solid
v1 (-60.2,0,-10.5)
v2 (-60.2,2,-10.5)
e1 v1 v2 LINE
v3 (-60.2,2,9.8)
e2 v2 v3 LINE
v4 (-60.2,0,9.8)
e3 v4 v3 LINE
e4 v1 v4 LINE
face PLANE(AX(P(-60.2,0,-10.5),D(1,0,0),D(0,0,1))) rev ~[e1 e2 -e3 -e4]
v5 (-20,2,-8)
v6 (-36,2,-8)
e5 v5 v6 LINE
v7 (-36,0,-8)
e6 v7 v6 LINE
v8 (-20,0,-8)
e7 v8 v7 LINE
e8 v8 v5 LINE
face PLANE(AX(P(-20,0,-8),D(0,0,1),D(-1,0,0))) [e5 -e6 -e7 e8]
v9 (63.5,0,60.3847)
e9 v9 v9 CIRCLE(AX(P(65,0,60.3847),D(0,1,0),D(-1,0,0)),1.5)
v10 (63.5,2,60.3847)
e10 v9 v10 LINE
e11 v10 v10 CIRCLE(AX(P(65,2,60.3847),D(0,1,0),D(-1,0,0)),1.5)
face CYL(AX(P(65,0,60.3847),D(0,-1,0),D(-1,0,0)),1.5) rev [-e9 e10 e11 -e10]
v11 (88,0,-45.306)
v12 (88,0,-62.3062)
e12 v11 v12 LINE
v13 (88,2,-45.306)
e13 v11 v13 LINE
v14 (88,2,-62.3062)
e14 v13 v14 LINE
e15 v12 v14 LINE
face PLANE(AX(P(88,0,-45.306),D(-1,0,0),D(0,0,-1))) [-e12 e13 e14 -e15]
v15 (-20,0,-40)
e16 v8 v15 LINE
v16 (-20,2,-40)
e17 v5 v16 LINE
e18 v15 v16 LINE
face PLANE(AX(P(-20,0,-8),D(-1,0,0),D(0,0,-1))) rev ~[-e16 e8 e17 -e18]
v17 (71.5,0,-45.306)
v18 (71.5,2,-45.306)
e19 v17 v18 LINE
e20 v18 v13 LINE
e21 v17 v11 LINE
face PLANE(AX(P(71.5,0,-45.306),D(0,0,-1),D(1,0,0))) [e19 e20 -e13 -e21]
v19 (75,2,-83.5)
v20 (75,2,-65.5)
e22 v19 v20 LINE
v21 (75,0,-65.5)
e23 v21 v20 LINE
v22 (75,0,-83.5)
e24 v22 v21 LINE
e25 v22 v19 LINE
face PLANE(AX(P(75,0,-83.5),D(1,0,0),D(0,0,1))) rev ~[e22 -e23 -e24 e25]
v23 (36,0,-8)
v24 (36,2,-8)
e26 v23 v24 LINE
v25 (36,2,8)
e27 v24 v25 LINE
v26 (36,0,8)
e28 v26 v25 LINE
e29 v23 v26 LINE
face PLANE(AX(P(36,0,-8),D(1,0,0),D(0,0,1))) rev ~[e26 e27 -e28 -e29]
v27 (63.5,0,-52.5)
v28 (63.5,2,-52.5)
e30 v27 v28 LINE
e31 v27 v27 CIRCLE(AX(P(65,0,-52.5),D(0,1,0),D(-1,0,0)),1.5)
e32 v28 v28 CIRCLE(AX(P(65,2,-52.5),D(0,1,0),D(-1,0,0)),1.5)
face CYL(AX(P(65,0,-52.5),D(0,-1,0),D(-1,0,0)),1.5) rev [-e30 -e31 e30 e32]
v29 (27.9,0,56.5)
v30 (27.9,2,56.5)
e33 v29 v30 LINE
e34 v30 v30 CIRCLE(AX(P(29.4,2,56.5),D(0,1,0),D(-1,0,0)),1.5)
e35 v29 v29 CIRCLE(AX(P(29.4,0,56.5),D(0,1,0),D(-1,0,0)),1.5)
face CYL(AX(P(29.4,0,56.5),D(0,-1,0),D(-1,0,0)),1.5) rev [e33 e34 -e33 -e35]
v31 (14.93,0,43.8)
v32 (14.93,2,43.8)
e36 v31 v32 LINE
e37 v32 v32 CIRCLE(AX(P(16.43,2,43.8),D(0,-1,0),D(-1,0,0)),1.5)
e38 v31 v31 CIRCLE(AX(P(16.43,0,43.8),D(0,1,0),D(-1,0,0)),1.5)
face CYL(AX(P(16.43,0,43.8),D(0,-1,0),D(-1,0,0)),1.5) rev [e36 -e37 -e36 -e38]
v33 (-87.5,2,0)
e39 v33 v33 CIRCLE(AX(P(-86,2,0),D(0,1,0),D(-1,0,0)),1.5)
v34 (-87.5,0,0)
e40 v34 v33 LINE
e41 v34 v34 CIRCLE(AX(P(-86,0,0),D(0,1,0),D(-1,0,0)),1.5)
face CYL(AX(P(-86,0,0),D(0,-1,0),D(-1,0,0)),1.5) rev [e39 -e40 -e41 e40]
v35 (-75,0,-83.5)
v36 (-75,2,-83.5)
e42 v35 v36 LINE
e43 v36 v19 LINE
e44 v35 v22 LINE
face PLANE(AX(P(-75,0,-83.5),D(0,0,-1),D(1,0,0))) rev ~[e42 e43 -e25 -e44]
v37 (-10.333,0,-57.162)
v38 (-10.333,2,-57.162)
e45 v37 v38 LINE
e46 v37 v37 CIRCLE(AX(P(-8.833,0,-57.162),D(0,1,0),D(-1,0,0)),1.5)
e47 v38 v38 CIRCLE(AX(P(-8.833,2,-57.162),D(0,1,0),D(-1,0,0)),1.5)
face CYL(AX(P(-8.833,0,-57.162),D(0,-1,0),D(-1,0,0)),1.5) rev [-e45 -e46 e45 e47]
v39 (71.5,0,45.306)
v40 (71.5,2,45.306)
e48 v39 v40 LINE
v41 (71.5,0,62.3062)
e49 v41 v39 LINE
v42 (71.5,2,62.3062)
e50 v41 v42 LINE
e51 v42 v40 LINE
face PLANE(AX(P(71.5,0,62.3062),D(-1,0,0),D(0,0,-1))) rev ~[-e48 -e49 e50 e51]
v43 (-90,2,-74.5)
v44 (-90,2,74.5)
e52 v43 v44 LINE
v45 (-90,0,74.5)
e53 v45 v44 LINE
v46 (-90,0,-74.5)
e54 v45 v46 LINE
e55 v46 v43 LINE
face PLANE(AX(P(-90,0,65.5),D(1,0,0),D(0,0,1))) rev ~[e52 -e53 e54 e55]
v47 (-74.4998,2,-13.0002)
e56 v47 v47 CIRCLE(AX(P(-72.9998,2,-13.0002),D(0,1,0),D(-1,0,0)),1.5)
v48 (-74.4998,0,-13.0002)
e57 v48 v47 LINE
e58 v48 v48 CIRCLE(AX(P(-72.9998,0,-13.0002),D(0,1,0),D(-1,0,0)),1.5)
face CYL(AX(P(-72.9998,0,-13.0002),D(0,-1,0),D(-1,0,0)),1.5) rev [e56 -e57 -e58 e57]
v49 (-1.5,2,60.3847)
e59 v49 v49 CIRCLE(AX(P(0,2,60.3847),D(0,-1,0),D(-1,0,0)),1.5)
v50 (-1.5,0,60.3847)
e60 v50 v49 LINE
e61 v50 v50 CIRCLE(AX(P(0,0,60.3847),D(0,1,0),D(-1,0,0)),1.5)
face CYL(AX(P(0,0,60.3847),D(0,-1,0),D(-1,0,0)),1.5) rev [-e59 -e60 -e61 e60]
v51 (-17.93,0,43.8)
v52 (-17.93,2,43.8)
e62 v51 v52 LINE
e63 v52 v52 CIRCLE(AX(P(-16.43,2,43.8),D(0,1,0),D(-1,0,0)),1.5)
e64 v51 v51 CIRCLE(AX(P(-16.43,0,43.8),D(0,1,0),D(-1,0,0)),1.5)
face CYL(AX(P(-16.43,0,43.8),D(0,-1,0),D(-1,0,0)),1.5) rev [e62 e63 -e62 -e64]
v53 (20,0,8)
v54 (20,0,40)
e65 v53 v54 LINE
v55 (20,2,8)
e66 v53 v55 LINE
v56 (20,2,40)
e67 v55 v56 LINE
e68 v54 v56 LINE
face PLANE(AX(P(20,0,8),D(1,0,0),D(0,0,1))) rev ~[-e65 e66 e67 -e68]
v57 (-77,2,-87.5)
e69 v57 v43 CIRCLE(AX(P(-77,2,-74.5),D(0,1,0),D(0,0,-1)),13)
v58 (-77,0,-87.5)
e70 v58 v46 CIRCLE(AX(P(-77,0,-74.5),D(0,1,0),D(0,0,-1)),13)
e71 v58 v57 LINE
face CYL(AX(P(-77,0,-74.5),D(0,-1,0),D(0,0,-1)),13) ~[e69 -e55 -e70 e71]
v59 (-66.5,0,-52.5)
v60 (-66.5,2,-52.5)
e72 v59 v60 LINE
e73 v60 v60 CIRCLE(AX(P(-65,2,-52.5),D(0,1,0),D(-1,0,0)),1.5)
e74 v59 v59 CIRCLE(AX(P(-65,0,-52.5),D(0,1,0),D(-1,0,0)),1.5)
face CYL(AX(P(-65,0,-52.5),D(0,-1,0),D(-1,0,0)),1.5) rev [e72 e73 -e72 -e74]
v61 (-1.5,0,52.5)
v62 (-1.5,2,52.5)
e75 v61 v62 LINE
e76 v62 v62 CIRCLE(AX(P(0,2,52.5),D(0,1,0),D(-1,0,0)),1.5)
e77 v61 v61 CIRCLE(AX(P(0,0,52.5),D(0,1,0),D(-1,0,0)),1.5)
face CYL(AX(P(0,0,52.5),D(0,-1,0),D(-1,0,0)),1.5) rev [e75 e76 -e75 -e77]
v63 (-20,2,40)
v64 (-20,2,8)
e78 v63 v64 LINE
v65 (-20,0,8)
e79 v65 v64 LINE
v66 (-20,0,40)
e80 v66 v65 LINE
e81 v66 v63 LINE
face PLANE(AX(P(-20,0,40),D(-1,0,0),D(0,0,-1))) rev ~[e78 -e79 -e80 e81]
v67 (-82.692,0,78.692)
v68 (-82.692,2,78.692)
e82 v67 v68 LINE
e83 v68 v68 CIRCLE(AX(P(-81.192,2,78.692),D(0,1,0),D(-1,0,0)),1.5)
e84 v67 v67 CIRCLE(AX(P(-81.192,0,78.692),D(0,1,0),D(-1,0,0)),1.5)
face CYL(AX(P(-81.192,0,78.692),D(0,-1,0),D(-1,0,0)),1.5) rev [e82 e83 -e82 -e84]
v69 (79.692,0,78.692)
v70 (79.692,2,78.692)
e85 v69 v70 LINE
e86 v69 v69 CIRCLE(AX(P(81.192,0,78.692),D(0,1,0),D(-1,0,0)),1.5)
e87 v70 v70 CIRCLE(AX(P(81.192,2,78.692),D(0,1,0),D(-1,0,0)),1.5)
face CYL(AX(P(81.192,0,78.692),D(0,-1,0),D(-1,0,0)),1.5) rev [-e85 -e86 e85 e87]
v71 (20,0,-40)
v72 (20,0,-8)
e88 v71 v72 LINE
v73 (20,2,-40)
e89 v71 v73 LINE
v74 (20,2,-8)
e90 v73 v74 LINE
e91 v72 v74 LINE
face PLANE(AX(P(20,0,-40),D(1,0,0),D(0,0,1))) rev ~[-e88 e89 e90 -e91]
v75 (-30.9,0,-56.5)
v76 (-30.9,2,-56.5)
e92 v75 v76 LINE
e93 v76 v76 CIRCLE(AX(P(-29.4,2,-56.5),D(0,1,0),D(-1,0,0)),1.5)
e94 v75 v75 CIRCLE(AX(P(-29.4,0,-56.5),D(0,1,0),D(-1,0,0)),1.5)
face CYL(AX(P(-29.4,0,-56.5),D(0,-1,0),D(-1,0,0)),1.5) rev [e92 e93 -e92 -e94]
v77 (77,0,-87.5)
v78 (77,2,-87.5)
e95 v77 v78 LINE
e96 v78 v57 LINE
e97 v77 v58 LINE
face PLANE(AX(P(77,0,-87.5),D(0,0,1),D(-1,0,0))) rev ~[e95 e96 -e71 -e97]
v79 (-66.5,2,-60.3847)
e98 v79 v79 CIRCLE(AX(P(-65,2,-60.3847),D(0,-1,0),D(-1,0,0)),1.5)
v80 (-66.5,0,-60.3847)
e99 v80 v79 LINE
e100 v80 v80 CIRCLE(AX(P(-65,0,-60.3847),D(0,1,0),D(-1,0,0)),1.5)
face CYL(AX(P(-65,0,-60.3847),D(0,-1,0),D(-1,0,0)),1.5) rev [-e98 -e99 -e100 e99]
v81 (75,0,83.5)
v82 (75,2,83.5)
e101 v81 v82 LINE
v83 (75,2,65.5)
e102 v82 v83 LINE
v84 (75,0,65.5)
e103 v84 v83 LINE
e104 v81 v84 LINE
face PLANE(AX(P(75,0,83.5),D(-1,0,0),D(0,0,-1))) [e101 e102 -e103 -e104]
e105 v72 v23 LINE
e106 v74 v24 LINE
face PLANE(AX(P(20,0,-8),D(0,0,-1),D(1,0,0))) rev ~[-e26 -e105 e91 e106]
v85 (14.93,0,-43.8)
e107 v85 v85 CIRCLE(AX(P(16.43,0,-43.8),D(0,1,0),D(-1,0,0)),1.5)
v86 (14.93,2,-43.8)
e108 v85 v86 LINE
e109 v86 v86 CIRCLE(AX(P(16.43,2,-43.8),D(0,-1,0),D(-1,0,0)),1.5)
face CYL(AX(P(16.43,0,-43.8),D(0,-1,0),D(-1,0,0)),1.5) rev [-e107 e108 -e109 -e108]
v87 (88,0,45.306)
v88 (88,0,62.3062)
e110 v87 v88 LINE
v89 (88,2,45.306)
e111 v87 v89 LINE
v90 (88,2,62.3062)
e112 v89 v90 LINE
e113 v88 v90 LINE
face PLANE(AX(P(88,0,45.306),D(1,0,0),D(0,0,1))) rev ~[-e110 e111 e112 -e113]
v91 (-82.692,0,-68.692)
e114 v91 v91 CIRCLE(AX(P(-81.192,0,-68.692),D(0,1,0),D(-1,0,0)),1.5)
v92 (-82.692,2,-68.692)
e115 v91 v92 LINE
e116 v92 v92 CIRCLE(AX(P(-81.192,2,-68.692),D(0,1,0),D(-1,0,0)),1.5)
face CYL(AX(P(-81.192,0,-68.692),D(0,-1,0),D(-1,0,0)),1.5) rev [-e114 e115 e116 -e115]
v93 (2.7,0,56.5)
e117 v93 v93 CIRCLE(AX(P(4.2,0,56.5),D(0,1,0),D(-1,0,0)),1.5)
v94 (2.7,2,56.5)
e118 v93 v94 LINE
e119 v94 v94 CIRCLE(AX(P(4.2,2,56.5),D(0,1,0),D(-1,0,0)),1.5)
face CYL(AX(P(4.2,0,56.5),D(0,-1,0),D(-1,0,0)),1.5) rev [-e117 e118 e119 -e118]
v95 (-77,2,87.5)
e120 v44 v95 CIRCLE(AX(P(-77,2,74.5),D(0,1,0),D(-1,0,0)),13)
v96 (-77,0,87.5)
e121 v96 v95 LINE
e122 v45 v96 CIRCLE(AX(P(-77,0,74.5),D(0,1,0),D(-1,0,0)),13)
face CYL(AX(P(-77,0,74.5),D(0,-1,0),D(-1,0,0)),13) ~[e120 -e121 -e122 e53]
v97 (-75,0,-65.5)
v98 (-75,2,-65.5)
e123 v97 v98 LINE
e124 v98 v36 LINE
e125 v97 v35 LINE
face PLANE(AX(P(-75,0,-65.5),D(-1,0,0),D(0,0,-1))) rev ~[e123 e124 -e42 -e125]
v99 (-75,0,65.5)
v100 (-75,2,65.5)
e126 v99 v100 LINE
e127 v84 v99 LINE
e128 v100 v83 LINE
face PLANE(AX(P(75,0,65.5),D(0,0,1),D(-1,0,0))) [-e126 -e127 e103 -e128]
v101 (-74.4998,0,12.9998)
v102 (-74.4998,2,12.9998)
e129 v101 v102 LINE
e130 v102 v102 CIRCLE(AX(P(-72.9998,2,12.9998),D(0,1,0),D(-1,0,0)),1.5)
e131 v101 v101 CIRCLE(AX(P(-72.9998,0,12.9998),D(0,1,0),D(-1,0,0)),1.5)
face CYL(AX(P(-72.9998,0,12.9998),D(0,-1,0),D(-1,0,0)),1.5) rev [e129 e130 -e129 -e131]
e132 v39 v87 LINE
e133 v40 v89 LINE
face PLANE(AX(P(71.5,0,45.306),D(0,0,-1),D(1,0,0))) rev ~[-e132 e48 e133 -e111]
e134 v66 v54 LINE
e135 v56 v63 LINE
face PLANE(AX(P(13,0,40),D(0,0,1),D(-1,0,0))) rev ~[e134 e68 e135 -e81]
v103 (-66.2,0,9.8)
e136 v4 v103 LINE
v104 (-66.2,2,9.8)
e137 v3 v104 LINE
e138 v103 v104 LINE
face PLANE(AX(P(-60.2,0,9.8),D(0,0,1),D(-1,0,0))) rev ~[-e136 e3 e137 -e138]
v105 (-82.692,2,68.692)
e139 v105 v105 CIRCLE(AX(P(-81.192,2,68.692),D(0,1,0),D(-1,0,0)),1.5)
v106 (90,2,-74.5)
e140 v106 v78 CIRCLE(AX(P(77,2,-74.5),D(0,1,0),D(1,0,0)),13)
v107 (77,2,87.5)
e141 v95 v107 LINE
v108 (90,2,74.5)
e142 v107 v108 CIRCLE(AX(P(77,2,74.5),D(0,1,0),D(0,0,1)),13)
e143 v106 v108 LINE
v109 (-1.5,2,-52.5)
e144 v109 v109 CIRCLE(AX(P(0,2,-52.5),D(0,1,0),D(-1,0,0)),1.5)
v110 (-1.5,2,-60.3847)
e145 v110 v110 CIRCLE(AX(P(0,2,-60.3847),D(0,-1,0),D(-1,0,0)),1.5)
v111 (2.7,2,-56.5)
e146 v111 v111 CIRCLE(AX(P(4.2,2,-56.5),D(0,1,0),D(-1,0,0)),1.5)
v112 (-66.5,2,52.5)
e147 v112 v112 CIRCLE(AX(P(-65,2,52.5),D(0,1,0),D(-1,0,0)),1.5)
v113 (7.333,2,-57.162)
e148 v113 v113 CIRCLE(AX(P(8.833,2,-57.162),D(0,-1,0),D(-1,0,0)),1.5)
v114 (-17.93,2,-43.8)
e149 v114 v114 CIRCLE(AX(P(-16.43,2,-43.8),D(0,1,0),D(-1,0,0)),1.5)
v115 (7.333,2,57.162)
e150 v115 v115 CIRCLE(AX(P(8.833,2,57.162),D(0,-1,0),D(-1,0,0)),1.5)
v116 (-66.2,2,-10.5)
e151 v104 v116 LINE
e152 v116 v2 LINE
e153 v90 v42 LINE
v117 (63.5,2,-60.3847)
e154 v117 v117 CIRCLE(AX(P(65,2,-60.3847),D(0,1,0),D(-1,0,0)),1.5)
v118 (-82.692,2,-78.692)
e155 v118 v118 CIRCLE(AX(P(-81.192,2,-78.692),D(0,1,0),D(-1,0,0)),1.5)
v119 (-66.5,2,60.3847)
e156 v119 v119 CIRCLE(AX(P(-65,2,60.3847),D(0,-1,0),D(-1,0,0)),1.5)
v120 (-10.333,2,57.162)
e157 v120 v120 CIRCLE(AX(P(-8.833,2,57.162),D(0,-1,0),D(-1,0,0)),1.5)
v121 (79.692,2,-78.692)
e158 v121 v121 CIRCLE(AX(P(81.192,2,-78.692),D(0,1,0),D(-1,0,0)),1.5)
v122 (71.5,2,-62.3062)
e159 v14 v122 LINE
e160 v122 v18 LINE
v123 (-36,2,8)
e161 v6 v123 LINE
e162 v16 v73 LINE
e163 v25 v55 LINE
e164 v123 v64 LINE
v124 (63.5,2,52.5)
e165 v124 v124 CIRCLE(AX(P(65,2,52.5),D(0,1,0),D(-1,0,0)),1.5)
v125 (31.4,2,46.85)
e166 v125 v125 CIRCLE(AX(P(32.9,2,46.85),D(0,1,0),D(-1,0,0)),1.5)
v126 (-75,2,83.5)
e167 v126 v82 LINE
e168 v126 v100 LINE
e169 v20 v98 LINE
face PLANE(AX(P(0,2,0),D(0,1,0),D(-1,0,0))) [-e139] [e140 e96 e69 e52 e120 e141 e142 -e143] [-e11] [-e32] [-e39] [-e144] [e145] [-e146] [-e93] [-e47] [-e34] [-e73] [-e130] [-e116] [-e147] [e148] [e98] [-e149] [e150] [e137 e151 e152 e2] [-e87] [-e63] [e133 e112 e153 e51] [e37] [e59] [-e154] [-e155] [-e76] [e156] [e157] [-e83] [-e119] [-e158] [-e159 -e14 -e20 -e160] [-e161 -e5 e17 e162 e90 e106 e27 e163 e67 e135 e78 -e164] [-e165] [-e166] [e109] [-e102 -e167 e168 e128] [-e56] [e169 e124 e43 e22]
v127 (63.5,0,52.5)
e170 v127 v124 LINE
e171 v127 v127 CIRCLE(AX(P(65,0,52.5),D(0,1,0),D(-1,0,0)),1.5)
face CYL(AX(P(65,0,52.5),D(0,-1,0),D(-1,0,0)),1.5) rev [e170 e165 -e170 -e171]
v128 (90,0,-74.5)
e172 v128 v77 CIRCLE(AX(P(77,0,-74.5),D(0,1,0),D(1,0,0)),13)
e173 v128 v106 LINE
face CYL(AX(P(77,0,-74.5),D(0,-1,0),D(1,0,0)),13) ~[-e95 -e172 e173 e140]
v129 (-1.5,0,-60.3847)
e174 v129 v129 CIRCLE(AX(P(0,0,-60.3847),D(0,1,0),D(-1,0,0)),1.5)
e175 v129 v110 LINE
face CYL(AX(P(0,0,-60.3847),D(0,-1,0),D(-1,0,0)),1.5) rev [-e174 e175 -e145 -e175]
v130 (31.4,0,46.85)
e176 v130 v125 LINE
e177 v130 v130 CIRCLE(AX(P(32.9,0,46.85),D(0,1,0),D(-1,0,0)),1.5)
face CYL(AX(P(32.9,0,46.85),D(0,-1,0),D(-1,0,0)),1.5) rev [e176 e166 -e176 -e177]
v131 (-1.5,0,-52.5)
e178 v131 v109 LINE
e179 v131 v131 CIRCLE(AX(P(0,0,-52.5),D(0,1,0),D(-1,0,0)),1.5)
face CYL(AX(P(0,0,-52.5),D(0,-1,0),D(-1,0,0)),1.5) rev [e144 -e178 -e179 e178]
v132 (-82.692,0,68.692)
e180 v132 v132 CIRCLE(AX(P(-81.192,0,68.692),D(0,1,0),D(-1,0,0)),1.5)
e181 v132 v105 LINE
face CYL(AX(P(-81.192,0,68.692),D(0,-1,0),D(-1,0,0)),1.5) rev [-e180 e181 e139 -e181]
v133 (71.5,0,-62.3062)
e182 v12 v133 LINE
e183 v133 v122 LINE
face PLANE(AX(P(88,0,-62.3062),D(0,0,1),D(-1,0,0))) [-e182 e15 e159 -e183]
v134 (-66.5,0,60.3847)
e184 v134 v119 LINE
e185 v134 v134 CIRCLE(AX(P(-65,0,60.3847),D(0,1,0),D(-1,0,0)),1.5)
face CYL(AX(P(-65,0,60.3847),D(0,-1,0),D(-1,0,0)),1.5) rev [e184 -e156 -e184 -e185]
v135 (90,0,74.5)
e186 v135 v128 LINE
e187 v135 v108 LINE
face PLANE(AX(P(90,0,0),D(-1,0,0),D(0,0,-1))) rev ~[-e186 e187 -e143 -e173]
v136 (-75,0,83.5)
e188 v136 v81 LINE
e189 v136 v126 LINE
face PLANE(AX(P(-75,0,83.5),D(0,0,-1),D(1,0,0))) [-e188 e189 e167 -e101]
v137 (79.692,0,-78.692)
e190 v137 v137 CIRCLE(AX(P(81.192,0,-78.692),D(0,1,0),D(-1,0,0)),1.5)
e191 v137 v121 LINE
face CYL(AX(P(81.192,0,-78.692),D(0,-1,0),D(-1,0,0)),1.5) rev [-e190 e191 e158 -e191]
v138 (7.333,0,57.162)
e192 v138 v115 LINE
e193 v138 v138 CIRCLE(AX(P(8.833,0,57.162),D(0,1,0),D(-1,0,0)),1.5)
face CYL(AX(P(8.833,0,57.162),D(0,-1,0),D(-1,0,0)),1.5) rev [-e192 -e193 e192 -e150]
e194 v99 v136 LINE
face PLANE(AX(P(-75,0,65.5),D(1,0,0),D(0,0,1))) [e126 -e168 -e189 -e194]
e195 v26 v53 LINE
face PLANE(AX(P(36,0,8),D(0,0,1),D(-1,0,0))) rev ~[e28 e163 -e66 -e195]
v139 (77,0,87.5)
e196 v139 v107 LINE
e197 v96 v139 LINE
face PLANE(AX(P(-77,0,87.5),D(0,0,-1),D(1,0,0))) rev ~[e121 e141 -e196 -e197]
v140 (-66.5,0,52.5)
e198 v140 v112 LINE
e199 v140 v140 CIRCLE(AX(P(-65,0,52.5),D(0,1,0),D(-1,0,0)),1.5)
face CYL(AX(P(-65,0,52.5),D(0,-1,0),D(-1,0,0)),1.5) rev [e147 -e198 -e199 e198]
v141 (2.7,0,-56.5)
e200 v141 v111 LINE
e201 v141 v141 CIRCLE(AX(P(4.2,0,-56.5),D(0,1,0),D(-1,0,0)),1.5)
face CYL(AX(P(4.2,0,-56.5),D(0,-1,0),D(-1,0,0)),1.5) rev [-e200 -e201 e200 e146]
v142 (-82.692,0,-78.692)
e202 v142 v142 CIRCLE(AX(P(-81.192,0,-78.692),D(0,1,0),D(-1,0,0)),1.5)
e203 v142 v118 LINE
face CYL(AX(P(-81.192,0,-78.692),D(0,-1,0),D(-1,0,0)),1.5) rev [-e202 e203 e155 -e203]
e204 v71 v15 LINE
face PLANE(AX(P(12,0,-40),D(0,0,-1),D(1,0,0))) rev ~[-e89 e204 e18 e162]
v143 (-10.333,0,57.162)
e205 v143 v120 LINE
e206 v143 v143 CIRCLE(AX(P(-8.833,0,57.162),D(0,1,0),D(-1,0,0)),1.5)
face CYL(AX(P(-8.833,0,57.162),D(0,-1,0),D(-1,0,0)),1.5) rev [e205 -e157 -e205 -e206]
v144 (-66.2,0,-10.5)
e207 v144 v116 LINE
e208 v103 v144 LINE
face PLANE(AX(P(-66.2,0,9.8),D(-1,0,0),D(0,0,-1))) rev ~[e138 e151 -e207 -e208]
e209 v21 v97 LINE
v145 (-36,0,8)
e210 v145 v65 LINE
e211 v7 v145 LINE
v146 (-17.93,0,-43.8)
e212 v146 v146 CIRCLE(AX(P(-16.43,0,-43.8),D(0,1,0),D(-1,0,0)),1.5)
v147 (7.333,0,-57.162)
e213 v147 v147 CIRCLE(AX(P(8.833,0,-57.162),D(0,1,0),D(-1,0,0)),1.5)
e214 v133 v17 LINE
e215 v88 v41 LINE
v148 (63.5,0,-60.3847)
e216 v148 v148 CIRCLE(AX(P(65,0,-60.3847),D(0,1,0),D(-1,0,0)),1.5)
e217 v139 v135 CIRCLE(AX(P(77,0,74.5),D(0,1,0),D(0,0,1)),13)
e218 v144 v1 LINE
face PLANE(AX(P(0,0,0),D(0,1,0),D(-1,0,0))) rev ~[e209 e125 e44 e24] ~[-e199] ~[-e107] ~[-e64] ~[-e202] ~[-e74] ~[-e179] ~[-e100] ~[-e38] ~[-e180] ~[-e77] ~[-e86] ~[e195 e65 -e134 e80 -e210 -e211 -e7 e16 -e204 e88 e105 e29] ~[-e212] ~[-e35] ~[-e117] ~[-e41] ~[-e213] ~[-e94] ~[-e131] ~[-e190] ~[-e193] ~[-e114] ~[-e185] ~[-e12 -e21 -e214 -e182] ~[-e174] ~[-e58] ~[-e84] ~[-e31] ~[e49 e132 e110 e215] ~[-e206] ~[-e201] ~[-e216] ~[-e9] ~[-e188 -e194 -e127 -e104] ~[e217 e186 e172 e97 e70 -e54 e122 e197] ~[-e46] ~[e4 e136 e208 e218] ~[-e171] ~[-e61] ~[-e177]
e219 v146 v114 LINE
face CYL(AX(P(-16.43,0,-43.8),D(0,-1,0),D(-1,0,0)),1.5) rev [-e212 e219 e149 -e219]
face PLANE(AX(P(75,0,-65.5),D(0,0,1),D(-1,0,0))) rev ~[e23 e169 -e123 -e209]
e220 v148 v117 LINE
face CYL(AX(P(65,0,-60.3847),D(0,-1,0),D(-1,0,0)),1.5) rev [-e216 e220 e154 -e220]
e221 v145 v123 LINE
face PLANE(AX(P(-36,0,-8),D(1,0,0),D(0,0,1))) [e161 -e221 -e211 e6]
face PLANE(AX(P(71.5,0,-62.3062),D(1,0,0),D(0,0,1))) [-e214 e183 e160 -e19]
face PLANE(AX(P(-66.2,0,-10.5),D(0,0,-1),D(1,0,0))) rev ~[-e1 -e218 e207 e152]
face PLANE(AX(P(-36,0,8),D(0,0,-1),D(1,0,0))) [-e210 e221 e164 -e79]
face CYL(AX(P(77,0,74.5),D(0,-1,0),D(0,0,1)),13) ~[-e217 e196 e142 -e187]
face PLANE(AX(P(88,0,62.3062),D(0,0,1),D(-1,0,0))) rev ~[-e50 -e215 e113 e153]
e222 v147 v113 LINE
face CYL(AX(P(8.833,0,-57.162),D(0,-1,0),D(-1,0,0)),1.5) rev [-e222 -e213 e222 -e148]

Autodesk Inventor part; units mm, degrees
ref_plane "YZ Plane" through (0, 0, 0) normal (1, 0, 0) x (0, 1, 0)
ref_plane "XZ Plane" through (0, 0, 0) normal (0, 1, 0) x (-1, 0, 0)
ref_plane "XY Plane" through (0, 0, 0) normal (0, 0, 1) x (1, 0, 0)
sketch "Эскиз1" plane through (0, 0, 0) normal (0, 1, 0) x (-1, 0, 0)
  line L0 (-77, -87.5) -> (77, -87.5)
  line L1 (90, -74.5) -> (90, 74.5)
  line L2 (77, 87.5) -> (-77, 87.5)
  line L3 (-90, 74.5) -> (-90, -74.5)
  line L4 (90, 0) -> (-90, 0) construction
  line L5 (0, -87.5) -> (0, 87.5) construction
  arc A0 (90, 74.5) -> (77, 87.5) centre (77, 74.5) ccw
  arc A1 (77, -87.5) -> (90, -74.5) centre (77, -74.5) ccw
  arc A2 (-90, -74.5) -> (-77, -87.5) centre (-77, -74.5) ccw
  arc A3 (-77, 87.5) -> (-90, 74.5) centre (-77, 74.5) ccw
  line L6 (75, 83.5) -> (-75, 83.5)
  line L7 (-75, 83.5) -> (-75, 65.5)
  line L8 (-75, 65.5) -> (75, 65.5)
  line L9 (75, 65.5) -> (75, 83.5)
  line L10 (0, 87.5) -> (0, -87.5) construction
  line L11 (75, -83.5) -> (-75, -83.5)
  line L12 (-75, -83.5) -> (-75, -65.5)
  line L13 (-75, -65.5) -> (75, -65.5)
  line L14 (75, -65.5) -> (75, -83.5)
  line L15 (90, 49.8397) -> (90, 20.3597)
  line L16 (0, 65.5) -> (42, 65.5)
  line L17 (90, -32.9125) -> (90, 38.6688)
  line L18 (68, 60) -> (-12, 60)
  line L19 (-12, 60) -> (-12, -60)
  line L20 (-12, -60) -> (68, -60)
  line L21 (68, -60) -> (68, 60)
  line L22 (60, 60) -> (57.2, 60)
  line L23 (60, 57.2) -> (60, 60)
  circle A4 centre (65.2, 57.2) radius 1.5
  line L24 (20, 60) -> (20, -60) construction
  circle A5 centre (65.2, -57.2) radius 1.5
  circle A6 centre (-9.2, 57.2) radius 1.5
  circle A7 centre (-9.2, -57.2) radius 1.5
  line L25 (-20, 0) -> (-25, 0) construction
  line L26 (-25, 0) -> (-81, 0) construction
  line L27 (-13, 42.5) -> (-69, 42.5)
  line L28 (-69, 42.5) -> (-69, -42.5)
  line L29 (-69, -42.5) -> (-13, -42.5)
  line L30 (-13, -42.5) -> (-13, 42.5)
  line L31 (-25, 42.5) -> (-28.7, 42.5)
  line L32 (-25, 38.8) -> (-25, 42.5)
  circle A8 centre (-16.7, 38.8) radius 1.5
  line L33 (-53, 42.5) -> (-53, -42.5) construction
  line L34 (-25, 0) -> (-81, 0) construction
  line L35 (-16.7, 38.8) -> (-16.7, -19.2) construction
  circle A9 centre (-16.7, -19.2) radius 1.5
  circle A10 centre (-65.3, 38.8) radius 1.5
  circle A11 centre (-65.3, -19.2) radius 1.5
  line L36 (90, 60.5) -> (90, 65.5)
  circle A12 centre (65, 60.3847) radius 1.5
  circle A13 centre (65, 52.5) radius 1.5
  line L37 (32.5, 60.3847) -> (32.5, -60) construction
  circle A14 centre (0, 60.3847) radius 1.5
  circle A15 centre (0, 52.5) radius 1.5
  circle A16 centre (-65, 60.3847) radius 1.5
  circle A17 centre (-65, 52.5) radius 1.5
  circle A18 centre (65, -60.3847) radius 1.5
  circle A19 centre (65, -52.5) radius 1.5
  circle A20 centre (0, -60.3847) radius 1.5
  circle A21 centre (0, -52.5) radius 1.5
  circle A22 centre (-65, -60.3847) radius 1.5
  circle A23 centre (-65, -52.5) radius 1.5
  circle A24 centre (86, 0) radius 1.5
  line L38 (86, 0) -> (104.385, 0) construction
  circle A25 centre (72.9998, -13.0002) radius 1.5
  circle A26 centre (72.9998, 12.9998) radius 1.5
  line L39 (90, -19.2) -> (75, -19.2)
  line L40 (75, -19.2) -> (75, 22.1472)
  line L41 (75, 22.1472) -> (90, 22.1472)
  line L42 (90, 22.1472) -> (90, -19.2)
  line L43 (-90, 8.1057) -> (-90, 0)
  line L44 (0, 0) -> (-12, 0)
  line L45 (-12, 5.1924) -> (-12, 5.1924)
  line L46 (75, 78.692) -> (75, 65.5)
  circle A27 centre (81.192, 78.692) radius 1.5
  circle A28 centre (81.192, -78.692) radius 1.5
  circle A29 centre (81.192, 68.692) radius 1.5
  circle A30 centre (81.192, -68.692) radius 1.5
  line L47 (66.2, 9.8) -> (66.2, -10.5)
  line L48 (66.2, -10.5) -> (60.2, -10.5)
  line L49 (60.2, -10.5) -> (60.2, 9.8)
  line L50 (60.2, 9.8) -> (66.2, 9.8)
  circle A31 centre (-81.192, -78.692) radius 1.5
  circle A32 centre (-81.192, 78.692) radius 1.5
  line L51 (0, 0) -> (-71.5, 0) construction
  line L52 (-71.5, 0) -> (-71.5, 45.306) construction
  line L53 (-71.5, 45.306) -> (0, 45.306) construction
  line L54 (0, 45.306) -> (0, 0) construction
  line L55 (-71.5, 45.306) -> (-88, 45.306)
  line L56 (-88, 45.306) -> (-88, 62.3062)
  line L57 (-88, 62.3062) -> (-71.5, 62.3062)
  line L58 (-71.5, 62.3062) -> (-71.5, 45.306)
  line L59 (-71.5, -45.306) -> (-88, -45.306)
  line L60 (-88, -45.306) -> (-88, -62.3062)
  line L61 (-88, -62.3062) -> (-71.5, -62.3062)
  line L62 (-71.5, -62.3062) -> (-71.5, -45.306)
  line L63 (20, -40) -> (-20, -40)
  line L64 (-20, -40) -> (-20, 40)
  line L65 (-20, 40) -> (20, 40)
  line L66 (20, 40) -> (20, -40)
  line L67 (20, 0) -> (-20, 0) construction
  line L68 (0, -40) -> (0, 40) construction
  line L69 (0, 65.5) -> (-4.2, 65.5) construction
  line L70 (-4.2, 65.5) -> (-4.2, 56.5) construction
  line L71 (-4.2, 56.5) -> (0, 56.5) construction
  line L72 (0, 56.5) -> (0, 65.5) construction
  circle A33 centre (-4.2, 56.5) radius 1.5
  line L73 (0, 65.5) -> (-29.4, 65.5) construction
  line L74 (-29.4, 65.5) -> (-29.4, 56.5) construction
  line L75 (-29.4, 56.5) -> (0, 56.5) construction
  line L76 (0, 56.5) -> (0, 65.5) construction
  circle A34 centre (-29.4, 56.5) radius 1.5
  circle A35 centre (-4.2, -56.5) radius 1.5
  circle A36 centre (29.4, -56.5) radius 1.5
  line L77 (0, 60.3847) -> (8.833, 60.3847)
  line L78 (8.833, 60.3847) -> (8.833, 57.162)
  line L79 (8.833, 57.162) -> (0, 57.162)
  line L80 (0, 57.162) -> (0, 60.3847)
  circle A37 centre (8.833, 57.162) radius 1.5
  circle A38 centre (-8.833, 57.162) radius 1.5
  circle A39 centre (8.833, -57.162) radius 1.5
  circle A40 centre (-8.833, -57.162) radius 1.5
  line L81 (-20, 0) -> (-20, -8)
  line L82 (-20, -8) -> (-36, -8)
  line L83 (-36, -8) -> (-36, 8)
  line L84 (-36, 8) -> (-20, 8)
  line L85 (-20, 8) -> (-20, -8)
  line L86 (20, -8) -> (36, -8)
  line L87 (36, -8) -> (36, 8)
  line L88 (36, 8) -> (20, 8)
  line L89 (20, 8) -> (20, -8)
  line L90 (0, 0) -> (16.43, 0) construction
  line L91 (16.43, 0) -> (16.43, 43.8) construction
  line L92 (16.43, 43.8) -> (0, 43.8) construction
  line L93 (0, 43.8) -> (0, 0) construction
  circle A41 centre (16.43, 43.8) radius 1.5
  circle A42 centre (-16.43, 43.8) radius 1.5
  circle A43 centre (16.43, -43.8) radius 1.5
  circle A44 centre (-16.43, -43.8) radius 1.5
  line L94 (0, 0) -> (-32.9, 0) construction
  line L95 (-32.9, 0) -> (-32.9, 46.85) construction
  line L96 (-32.9, 46.85) -> (0, 46.85) construction
  line L97 (0, 46.85) -> (0, 0) construction
  circle A45 centre (-32.9, 46.85) radius 1.5
  point P0 (90, 87.5)
  point P1 (90, -87.5)
  point P2 (-90, 87.5)
  point P3 (-77, -74.5)
  point P4 (60, 0)
  point P5 (75, 0)
  point P6 (60, 0)
  point P7 (-60, 0)
  point P8 (-4, 0)
  point P9 (-5, 0)
  point P10 (-15, 0)
  point P11 (-70, 0)
  point P12 (-14, 0)
  point P13 (-28.7, -19.2)
  point P14 (-17.7, -19.2)
  point P15 (-13, 0)
  point P16 (-14, 0)
  point P17 (-17.6, 40)
  point P18 (-15.8, 40)
  dimension "d0" = 180
  dimension "d1" = 175
  dimension "d2" = 13
  dimension "d7" = 150
  dimension "d8" = 18
  dimension "d13" = 80
  dimension "d14" = 120
  dimension "d21" = 56
  dimension "d22" = 85
  dimension "d25" = 3
  dimension "d26" = 58
  dimension "d27" = 3
  dimension "d30" = 3
  dimension "d32" = 3
  dimension "d33" = 32.5
  dimension "d54" = 3
  dimension "d58" = 3
  dimension "d59" = 3
  dimension "d60" = 15
  dimension "d62" = 12
  dimension "d68" = 3
  dimension "d70" = 3
  dimension "d72" = 20.3
  dimension "d73" = 6
  dimension "d76" = 3
  dimension "d77" = 71.5
  dimension "d78" = 45.306
  dimension "d79" = 40
  dimension "d80" = 80
  dimension "d81" = 4.2
  dimension "d82" = 9
  dimension "d83" = 3
  dimension "d84" = 29.4
  dimension "d85" = 9
  dimension "d86" = 3
  dimension "d87" = 3
  dimension "d88" = 8
  dimension "d89" = 16
  dimension "d90" = 16
  dimension "d91" = 16.43
  dimension "d92" = 43.8
  dimension "d93" = 3
  dimension "d94" = 3
sketch "Эскиз2" plane through (0, 0, 0) normal (0, 1, 0) x (-1, 0, 0)
  line L0 (77, 87.5) -> (-77, 87.5)
  line L1 (-90, 74.5) -> (-90, -74.5)
  line L2 (-77, -87.5) -> (77, -87.5)
  line L3 (90, -74.5) -> (90, 74.5)
  line L4 (90, 0) -> (-90, 0) construction
  line L5 (0, 87.5) -> (0, -87.5) construction
  arc A0 (90, 74.5) -> (77, 87.5) centre (77, 74.5) ccw
  arc A1 (-77, 87.5) -> (-90, 74.5) centre (-77, 74.5) ccw
  arc A2 (-90, -74.5) -> (-77, -87.5) centre (-77, -74.5) ccw
  arc A3 (77, -87.5) -> (90, -74.5) centre (77, -74.5) ccw
  line L6 (150, -150) -> (-150, -150)
  line L7 (-150, -150) -> (-150, 150)
  line L8 (-150, 150) -> (150, 150)
  line L9 (150, 150) -> (150, -150)
  line L10 (150, 0) -> (-150, 0) construction
  line L11 (0, -150) -> (0, 150) construction
  circle A4 centre (0, 0) radius 150
  line L12 (75, -74.5) -> (75, -83.5)
  line L13 (75, -83.5) -> (-75, -83.5)
  line L14 (-75, -83.5) -> (-75, -65.5)
  line L15 (-75, -65.5) -> (75, -65.5)
  line L16 (75, -65.5) -> (75, -83.5)
  line L17 (75, 74.5) -> (75, 83.5)
  line L18 (75, 83.5) -> (-75, 83.5)
  line L19 (-75, 83.5) -> (-75, 65.5)
  line L20 (-75, 65.5) -> (75, 65.5)
  line L21 (75, 65.5) -> (75, 83.5)
  line L22 (0, -65.5) -> (42, -65.5)
  line L23 (42, -65.5) -> (77, -65.5)
  line L24 (77, -65.5) -> (77, -82.3082)
  line L25 (77, -82.3082) -> (42, -82.3082)
  line L26 (77, -65.5) -> (7, -65.5)
  line L27 (7, -65.5) -> (7, -82.3082)
  line L28 (7, -82.3082) -> (77, -82.3082)
  line L29 (77, -82.3082) -> (77, -65.5)
  line L30 (-42, -65.5) -> (-77, -65.5)
  line L31 (-77, -65.5) -> (-77, -82.3082)
  line L32 (-7, -65.5) -> (-7, -82.3082)
  line L33 (-7, -82.3082) -> (-77, -82.3082)
  line L34 (42, -65.5) -> (29.5, -65.5)
  line L35 (29.5, -10.5) -> (54.5, -10.5)
  line L36 (54.5, -10.5) -> (54.5, -65.5)
  line L37 (54.5, -65.5) -> (29.5, -65.5)
  line L38 (29.5, -65.5) -> (29.5, -10.5)
  line L39 (29.5, 10.5) -> (54.5, 10.5)
  line L40 (54.5, 10.5) -> (54.5, 65.5)
  line L41 (29.5, 65.5) -> (29.5, 10.5)
  line L42 (-29.5, -10.5) -> (-54.5, -10.5)
  line L43 (-54.5, -10.5) -> (-54.5, -65.5)
  line L44 (-29.5, -65.5) -> (-29.5, -10.5)
  line L45 (-29.5, 65.5) -> (-29.5, 10.5)
  line L46 (-29.5, 10.5) -> (-54.5, 10.5)
  line L47 (-54.5, 10.5) -> (-54.5, 65.5)
  point P0 (0, 0)
  point P1 (-90, -87.5)
  point P2 (-90, 87.5)
  point P3 (90, -87.5)
  point P4 (-80.411, -84.4848)
  point P5 (77, 74.5)
  point P6 (-7, -73.9041)
  point P7 (7, -73.9041)
  dimension "d34" = 180
  dimension "d35" = 175
  dimension "d36" = 13
  dimension "d37" = 300
  dimension "d38" = 300
  dimension "d41" = 150
  dimension "d42" = 18
  dimension "d44" = 35
  dimension "d45" = 70
  dimension "d46" = 14
  dimension "d47" = 84
  dimension "d50" = 25
extrude "Выдавливание1" add sketch "Эскиз1" along normal blind 2 contours A2 L3 A3 L2 A0 L1 L41 L40 L39 A1 L0 | L39 L40 L41 L1 | L18 A12 L21 L20 A18 A20 L19 L63 L66 L86 L87 L88 L65 A14 L80 L79 A37 L78 | L78 A37 L79 L80 A14 L18 | L18 A14 L77 L78 | L65 A8 L64 L84 L83 L82 L63 L30 L29 A44 L28 L27 A42 | L65 A8 | A4 | A5 | A38 A6 | A40 A7 | A10 | A11 picked at (-16.908, 40.0547) picked at (-10.5675, 57.2211) picked at (-10.5675, -57.2211)
properties part number "base"
